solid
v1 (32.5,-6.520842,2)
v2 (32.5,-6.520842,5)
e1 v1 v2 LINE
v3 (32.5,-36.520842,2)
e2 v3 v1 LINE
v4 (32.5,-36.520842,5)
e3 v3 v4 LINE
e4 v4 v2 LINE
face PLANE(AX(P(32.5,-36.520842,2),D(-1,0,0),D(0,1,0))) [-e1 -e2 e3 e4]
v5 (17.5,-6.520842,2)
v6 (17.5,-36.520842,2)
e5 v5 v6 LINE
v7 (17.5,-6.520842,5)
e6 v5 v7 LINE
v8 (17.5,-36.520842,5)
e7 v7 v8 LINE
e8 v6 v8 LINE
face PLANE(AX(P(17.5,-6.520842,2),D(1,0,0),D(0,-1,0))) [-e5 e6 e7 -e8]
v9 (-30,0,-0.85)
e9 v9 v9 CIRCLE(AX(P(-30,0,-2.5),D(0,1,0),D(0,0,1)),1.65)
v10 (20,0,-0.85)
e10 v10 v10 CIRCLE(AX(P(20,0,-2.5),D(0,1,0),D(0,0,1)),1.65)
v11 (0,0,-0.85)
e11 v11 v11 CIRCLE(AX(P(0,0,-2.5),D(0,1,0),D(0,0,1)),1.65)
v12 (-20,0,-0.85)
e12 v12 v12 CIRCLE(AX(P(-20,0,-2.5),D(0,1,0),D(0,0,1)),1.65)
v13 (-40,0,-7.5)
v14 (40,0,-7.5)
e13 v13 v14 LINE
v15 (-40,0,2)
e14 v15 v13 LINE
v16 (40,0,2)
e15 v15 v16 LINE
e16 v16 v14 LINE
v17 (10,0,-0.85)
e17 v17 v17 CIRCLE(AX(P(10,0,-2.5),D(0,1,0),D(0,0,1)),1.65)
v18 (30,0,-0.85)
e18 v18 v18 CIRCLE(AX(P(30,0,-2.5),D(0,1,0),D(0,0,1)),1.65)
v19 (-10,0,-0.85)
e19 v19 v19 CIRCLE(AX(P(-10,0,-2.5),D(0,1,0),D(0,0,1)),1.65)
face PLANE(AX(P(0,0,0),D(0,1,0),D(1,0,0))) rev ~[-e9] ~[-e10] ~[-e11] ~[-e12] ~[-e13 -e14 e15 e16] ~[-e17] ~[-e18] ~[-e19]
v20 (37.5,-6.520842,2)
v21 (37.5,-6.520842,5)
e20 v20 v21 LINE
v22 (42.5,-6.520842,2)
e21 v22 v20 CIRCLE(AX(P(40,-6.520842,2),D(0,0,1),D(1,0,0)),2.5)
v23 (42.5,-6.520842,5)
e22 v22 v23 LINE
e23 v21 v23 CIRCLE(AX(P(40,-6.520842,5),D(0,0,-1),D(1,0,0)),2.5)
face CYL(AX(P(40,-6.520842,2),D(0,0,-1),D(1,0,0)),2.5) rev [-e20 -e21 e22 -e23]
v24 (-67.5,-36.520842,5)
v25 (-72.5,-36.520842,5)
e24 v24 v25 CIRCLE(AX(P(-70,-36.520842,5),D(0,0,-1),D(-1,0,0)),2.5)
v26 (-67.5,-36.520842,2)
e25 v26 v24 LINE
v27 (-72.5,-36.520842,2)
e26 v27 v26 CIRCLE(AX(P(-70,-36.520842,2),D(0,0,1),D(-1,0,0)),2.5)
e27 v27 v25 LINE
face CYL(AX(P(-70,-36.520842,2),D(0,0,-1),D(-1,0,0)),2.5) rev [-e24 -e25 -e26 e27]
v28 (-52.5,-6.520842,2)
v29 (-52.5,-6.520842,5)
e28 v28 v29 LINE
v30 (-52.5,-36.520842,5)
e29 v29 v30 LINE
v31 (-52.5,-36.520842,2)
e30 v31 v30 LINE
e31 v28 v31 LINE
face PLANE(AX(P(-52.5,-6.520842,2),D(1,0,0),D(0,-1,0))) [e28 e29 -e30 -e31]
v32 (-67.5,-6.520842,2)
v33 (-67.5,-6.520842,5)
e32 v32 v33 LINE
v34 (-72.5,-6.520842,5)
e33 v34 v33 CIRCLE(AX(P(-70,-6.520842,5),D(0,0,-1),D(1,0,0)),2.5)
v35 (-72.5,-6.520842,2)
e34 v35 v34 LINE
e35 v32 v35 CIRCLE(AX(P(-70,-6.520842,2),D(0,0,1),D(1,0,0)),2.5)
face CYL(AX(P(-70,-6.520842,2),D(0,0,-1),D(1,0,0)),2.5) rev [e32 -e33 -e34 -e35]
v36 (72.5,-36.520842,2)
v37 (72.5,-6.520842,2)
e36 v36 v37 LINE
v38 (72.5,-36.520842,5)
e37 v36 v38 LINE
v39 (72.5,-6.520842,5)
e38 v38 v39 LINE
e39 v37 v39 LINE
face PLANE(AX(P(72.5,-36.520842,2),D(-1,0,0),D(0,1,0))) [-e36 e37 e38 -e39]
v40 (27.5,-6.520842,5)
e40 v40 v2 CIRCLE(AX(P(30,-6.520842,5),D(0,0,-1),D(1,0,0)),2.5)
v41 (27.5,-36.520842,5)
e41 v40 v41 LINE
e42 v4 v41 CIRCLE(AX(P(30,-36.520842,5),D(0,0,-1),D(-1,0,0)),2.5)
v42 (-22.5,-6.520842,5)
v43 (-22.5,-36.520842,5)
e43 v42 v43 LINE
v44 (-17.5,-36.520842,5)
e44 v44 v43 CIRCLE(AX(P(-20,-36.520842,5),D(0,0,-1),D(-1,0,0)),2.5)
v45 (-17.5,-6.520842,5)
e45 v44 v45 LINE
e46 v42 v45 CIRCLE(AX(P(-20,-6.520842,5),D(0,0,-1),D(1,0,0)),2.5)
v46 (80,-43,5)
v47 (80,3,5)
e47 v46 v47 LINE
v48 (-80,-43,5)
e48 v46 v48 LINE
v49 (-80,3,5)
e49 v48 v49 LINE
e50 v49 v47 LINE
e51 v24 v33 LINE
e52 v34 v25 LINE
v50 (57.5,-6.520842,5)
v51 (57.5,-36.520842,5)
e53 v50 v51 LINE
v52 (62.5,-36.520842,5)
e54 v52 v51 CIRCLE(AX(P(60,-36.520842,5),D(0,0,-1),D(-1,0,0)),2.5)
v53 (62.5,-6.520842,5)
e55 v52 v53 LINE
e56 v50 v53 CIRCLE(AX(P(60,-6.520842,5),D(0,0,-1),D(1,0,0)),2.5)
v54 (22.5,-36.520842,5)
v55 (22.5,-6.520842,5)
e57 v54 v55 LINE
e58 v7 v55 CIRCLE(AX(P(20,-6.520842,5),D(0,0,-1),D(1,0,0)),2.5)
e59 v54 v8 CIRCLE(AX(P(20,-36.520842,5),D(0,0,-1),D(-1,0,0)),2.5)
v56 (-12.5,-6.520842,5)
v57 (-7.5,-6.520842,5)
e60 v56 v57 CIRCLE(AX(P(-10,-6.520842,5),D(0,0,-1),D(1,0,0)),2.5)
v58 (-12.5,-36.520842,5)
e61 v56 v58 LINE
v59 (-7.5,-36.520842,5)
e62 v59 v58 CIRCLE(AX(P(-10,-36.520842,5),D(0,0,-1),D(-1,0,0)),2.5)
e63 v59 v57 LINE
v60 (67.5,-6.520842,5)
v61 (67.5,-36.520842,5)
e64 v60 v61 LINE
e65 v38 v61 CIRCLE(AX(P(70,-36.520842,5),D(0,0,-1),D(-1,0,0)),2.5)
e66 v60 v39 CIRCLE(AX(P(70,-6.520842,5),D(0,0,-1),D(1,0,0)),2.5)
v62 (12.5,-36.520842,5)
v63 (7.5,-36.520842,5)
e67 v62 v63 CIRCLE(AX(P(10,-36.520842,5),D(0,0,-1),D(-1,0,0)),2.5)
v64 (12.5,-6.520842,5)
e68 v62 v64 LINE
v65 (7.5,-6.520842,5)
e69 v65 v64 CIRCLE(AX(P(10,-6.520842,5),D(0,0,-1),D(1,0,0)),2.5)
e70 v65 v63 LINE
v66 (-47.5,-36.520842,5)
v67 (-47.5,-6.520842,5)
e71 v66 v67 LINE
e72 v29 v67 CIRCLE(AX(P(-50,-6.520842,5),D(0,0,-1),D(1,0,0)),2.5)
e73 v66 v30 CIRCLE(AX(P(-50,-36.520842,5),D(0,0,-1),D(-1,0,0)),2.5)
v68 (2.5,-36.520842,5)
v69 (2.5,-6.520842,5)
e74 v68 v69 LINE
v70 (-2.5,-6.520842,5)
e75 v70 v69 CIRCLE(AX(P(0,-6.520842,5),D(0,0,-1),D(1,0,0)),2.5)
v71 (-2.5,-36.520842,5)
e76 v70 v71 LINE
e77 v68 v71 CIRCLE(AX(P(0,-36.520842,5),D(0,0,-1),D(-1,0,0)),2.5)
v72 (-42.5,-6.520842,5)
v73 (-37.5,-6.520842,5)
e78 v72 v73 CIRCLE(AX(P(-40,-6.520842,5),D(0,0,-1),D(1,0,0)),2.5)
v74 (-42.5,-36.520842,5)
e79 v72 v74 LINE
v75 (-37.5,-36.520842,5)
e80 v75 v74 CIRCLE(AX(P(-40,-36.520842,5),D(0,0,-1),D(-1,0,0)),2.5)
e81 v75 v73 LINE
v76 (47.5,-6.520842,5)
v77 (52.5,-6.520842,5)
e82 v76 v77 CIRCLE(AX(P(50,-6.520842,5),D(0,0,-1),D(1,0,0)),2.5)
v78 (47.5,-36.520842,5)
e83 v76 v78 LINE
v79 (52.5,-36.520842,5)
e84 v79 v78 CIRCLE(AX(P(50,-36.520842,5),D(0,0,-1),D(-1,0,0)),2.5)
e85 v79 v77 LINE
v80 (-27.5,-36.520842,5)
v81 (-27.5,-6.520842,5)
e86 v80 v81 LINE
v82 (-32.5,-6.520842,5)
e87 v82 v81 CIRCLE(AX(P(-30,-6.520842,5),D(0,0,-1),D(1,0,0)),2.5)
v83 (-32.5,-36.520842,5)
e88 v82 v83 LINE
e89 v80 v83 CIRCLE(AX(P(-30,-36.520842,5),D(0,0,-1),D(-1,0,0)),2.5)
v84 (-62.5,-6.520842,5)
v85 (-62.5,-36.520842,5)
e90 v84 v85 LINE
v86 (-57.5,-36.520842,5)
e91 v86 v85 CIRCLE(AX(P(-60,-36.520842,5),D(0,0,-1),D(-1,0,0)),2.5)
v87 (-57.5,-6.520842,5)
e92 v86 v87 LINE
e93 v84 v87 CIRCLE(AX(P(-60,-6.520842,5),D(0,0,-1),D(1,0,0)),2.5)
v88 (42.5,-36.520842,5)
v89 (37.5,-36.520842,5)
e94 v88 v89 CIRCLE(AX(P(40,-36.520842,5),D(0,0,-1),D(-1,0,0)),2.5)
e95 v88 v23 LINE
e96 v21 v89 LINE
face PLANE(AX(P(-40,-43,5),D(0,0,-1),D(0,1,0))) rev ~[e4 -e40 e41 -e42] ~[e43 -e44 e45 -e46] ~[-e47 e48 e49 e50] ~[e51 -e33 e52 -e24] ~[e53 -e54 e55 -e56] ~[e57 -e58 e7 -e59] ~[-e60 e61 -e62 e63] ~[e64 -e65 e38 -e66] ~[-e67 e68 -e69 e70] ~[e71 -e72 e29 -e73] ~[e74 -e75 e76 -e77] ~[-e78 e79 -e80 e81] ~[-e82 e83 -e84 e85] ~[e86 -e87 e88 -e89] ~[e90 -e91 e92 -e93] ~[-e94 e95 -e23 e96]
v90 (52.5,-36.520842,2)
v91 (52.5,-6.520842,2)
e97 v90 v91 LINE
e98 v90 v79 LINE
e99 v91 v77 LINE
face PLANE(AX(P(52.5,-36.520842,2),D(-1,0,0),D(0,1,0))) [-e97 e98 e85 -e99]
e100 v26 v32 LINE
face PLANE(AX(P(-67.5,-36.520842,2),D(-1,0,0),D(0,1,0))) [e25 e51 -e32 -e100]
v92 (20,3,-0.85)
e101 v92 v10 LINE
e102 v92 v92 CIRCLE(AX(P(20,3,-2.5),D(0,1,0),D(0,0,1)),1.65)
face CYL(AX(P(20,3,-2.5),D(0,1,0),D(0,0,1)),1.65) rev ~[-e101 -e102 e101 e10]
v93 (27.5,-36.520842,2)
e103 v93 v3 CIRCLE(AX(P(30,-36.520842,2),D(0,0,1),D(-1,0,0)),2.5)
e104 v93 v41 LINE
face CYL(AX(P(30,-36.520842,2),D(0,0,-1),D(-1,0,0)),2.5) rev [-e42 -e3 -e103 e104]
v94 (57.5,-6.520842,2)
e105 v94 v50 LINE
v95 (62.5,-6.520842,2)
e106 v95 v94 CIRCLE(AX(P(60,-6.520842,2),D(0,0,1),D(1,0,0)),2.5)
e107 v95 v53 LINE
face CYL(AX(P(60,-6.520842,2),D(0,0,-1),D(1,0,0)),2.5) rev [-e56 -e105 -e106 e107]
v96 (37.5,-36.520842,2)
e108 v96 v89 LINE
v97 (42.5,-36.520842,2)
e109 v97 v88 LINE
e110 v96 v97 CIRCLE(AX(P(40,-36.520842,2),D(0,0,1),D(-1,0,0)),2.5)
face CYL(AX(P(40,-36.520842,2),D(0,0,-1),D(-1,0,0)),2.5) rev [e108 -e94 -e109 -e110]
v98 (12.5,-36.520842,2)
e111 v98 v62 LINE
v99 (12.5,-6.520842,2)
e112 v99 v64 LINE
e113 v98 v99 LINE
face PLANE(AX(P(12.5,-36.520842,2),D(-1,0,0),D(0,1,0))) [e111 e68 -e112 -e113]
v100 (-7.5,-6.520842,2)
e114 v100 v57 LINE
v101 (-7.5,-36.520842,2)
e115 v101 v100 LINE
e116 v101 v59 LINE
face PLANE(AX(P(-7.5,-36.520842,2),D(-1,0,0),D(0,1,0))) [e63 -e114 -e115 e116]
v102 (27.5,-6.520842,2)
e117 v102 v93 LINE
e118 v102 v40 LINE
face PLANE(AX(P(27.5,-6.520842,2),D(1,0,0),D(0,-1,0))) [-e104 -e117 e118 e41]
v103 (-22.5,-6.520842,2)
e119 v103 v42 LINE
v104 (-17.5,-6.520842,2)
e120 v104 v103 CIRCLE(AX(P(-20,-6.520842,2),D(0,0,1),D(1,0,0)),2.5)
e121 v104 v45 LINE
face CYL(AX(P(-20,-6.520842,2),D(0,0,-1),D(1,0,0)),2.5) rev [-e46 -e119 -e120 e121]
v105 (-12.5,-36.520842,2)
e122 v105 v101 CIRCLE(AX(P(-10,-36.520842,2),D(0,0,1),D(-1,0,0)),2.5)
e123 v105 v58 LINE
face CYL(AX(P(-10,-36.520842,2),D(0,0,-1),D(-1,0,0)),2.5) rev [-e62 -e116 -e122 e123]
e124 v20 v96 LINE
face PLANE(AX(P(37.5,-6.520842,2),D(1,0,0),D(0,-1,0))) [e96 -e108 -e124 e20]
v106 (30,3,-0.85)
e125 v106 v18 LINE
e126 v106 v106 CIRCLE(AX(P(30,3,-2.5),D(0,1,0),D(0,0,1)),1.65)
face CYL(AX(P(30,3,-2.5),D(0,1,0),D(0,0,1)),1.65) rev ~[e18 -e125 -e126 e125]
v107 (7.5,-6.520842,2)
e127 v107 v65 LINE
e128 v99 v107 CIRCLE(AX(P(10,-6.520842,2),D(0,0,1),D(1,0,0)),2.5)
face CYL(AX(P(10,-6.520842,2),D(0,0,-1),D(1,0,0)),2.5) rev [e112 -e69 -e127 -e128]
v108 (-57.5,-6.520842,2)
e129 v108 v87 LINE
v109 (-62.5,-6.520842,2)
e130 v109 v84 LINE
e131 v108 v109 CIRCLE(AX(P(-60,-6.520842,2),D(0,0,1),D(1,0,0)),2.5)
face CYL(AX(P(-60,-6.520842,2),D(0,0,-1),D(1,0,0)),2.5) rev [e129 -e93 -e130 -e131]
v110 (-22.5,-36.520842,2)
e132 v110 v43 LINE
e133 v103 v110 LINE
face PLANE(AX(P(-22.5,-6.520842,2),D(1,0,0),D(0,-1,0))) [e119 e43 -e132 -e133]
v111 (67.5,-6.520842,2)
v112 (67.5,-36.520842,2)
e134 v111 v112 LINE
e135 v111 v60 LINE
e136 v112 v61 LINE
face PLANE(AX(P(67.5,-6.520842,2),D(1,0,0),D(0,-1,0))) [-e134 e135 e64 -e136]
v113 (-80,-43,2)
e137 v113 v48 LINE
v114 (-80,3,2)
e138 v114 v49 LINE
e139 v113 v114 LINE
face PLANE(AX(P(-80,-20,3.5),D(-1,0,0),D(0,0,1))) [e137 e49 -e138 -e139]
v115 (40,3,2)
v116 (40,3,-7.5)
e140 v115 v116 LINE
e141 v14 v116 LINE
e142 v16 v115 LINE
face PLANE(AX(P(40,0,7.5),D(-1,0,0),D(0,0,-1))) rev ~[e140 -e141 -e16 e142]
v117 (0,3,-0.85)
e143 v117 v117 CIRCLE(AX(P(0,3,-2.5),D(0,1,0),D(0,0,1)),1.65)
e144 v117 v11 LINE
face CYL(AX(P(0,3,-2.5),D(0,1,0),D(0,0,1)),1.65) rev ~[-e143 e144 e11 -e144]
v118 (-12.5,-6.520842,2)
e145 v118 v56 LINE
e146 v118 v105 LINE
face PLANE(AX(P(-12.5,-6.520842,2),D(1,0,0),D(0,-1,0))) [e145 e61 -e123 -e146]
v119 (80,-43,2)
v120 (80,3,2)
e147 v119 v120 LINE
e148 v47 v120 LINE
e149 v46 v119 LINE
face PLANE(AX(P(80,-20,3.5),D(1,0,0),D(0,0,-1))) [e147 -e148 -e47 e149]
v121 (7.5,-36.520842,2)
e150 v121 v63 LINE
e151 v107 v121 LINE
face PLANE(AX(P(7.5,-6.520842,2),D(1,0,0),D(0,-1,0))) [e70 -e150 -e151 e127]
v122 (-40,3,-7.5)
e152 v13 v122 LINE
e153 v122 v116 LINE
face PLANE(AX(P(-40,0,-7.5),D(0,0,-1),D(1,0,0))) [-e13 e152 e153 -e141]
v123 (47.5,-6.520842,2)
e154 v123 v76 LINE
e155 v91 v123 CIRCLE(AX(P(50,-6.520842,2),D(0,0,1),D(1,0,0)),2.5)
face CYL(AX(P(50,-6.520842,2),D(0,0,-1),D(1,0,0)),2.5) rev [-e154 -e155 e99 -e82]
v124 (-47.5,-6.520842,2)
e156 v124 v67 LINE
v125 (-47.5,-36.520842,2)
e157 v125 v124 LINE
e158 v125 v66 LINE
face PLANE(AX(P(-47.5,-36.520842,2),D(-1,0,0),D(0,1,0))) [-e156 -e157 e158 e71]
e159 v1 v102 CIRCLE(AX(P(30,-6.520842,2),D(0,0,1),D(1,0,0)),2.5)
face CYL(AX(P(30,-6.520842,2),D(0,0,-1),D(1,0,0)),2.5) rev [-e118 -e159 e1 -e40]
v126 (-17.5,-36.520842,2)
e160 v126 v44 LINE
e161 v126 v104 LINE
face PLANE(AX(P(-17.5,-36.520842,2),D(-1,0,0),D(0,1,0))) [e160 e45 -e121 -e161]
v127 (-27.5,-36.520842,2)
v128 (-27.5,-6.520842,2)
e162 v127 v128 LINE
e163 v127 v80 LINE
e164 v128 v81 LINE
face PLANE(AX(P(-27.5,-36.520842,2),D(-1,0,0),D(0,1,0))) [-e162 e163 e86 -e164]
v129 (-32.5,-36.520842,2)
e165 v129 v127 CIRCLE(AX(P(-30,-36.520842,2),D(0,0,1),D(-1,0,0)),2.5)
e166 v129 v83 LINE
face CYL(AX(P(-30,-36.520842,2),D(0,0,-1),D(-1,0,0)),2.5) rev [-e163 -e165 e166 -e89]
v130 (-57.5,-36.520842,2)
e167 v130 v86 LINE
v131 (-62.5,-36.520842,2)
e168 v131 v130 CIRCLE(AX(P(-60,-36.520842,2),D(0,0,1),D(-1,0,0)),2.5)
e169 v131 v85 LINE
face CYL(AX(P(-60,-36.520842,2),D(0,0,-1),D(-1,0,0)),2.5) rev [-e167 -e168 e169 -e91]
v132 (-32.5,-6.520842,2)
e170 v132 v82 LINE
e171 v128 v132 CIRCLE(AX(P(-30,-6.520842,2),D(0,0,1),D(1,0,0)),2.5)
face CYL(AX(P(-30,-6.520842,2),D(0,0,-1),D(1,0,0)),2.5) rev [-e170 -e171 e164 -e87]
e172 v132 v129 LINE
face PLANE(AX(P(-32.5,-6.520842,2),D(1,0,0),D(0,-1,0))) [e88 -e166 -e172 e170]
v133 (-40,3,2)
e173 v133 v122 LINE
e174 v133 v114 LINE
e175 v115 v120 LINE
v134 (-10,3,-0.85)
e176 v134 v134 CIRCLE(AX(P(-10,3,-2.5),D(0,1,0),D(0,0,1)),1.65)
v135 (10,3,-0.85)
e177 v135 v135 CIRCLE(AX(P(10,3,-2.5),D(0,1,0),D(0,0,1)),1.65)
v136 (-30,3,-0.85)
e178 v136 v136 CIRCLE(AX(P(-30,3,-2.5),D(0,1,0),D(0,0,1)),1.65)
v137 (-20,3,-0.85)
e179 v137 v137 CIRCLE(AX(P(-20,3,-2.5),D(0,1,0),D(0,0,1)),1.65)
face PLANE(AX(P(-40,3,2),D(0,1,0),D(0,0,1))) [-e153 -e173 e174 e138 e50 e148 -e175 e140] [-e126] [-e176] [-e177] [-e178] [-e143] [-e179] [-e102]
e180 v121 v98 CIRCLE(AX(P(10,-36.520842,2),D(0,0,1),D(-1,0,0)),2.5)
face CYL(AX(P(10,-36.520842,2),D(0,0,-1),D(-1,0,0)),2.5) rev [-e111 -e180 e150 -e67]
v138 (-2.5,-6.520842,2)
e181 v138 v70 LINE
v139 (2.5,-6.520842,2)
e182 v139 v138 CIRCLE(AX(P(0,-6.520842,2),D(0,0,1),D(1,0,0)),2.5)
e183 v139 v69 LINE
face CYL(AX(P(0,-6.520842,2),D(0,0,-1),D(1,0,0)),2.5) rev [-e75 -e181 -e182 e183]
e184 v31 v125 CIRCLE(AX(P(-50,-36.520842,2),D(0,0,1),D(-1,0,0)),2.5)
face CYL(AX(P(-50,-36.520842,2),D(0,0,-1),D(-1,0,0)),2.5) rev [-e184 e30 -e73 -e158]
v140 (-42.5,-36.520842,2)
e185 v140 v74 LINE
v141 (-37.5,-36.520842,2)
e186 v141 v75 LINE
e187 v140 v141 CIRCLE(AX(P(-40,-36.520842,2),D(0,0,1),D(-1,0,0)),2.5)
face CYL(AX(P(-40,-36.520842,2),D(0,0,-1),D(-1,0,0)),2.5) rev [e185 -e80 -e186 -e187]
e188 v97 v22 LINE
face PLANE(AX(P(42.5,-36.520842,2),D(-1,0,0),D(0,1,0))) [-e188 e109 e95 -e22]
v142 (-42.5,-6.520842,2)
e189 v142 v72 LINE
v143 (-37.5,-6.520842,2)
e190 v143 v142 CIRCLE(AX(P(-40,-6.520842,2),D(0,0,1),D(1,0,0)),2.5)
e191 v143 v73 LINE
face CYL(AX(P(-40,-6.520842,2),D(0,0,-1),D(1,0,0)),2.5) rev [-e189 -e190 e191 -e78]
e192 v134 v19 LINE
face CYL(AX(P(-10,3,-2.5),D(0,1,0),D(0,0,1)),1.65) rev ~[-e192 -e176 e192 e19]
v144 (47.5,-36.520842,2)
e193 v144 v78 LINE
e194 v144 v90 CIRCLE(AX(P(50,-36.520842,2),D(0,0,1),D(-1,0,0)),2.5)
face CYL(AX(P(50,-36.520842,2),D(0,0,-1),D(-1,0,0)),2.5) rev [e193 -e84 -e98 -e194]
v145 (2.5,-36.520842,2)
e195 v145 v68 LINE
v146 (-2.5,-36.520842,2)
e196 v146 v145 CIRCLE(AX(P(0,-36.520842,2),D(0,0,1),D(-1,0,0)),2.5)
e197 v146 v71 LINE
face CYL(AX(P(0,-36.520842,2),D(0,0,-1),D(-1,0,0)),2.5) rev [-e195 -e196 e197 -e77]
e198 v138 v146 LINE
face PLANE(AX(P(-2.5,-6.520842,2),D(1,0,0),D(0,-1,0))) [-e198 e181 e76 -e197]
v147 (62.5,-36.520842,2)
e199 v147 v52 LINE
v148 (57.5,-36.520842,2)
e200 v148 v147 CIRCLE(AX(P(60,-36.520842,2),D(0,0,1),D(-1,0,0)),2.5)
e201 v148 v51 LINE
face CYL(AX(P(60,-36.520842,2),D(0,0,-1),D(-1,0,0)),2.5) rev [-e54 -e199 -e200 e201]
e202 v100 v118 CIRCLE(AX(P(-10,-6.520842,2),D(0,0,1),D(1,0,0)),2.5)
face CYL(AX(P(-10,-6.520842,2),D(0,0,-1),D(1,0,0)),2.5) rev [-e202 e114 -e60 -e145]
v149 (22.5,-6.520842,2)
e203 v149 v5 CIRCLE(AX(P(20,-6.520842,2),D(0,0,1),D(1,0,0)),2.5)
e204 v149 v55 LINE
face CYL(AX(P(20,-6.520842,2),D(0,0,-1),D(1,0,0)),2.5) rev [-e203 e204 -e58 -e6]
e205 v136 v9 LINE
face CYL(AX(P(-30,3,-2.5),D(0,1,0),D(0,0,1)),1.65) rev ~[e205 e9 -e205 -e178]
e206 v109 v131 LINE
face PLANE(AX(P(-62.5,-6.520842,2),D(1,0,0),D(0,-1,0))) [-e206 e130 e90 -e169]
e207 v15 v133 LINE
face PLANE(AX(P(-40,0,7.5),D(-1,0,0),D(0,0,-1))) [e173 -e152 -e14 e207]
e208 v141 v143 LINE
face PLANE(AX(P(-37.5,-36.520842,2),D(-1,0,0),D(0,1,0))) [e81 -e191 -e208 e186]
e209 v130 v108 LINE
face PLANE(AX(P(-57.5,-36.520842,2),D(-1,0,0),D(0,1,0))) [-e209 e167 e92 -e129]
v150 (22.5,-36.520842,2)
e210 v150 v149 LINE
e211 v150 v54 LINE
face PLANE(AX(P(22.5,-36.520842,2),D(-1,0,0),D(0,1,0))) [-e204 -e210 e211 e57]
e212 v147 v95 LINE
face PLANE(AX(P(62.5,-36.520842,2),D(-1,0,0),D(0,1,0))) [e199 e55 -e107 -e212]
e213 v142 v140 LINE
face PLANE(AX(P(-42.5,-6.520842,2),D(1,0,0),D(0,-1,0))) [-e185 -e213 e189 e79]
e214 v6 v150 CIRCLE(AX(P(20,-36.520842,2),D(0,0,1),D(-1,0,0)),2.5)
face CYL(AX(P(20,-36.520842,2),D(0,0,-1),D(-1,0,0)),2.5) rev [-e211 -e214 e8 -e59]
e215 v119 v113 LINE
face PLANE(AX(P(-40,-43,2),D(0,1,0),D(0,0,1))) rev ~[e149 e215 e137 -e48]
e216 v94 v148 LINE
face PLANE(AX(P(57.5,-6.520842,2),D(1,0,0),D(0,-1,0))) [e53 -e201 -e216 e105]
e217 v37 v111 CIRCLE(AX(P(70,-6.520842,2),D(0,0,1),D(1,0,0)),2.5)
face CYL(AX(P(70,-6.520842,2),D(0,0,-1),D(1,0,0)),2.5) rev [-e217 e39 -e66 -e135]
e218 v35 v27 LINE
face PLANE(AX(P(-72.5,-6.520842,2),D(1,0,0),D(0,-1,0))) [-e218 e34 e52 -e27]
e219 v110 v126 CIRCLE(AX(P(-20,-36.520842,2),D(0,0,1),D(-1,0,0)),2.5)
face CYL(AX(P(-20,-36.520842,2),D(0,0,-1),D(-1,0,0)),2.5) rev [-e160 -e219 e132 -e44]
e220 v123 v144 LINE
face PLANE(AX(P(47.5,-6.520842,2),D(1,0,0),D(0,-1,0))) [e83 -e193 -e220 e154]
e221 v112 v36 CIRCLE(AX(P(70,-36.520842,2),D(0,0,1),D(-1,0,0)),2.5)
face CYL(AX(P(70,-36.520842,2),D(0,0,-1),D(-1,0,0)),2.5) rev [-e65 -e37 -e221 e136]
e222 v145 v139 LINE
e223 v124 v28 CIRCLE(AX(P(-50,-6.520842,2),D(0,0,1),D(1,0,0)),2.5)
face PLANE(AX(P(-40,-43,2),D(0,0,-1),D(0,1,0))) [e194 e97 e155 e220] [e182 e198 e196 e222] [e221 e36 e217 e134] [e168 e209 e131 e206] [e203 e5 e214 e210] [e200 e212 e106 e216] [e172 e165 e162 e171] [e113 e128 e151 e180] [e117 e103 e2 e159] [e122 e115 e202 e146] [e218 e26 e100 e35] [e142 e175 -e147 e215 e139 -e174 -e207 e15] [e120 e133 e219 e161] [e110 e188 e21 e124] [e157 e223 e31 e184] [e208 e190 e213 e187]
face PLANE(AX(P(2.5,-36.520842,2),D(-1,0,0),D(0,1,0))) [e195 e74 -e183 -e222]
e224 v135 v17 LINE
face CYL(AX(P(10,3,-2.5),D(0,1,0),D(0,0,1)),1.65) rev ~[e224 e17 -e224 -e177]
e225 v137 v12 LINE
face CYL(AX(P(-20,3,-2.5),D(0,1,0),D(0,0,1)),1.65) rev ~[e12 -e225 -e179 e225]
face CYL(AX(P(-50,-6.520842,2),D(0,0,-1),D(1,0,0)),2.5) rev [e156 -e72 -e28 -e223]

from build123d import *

# Parameters (mm, degrees)
SKETCH_1_W          = 80
SKETCH_1_H          = 15
EXTRUDE_1_DEPTH     = 3
SKETCH_2_R          = 1.65
CUT_EXTRUDE_1_DEPTH = 3
SKETCH_3_W          = 80
SKETCH_3_H          = 3
EXTRUDE_2_DEPTH     = 43
SKETCH_4_W          = 3
SKETCH_4_H          = 46
EXTRUDE_3_DEPTH     = 40
SKETCH_5_W          = 3
SKETCH_5_H          = 46
EXTRUDE_4_DEPTH     = 40
SKETCH_8_W          = 2.5
SKETCH_8_H          = 3
CUT_EXTRUDE_3_DEPTH = 80
CUT_EXTRUDE_4_DEPTH = 80


with BuildPart() as part:
    # 草图1 → 凸台-拉伸1 (new body)
    with BuildSketch(Plane(origin=(0, 0, 0), x_dir=(1, 0, 0), z_dir=(0, 1, 0))):
        Rectangle(SKETCH_1_W, SKETCH_1_H)
    extrude(amount=EXTRUDE_1_DEPTH)

    # 草图2 → 切除-拉伸1 (cut)
    with BuildSketch(Plane(origin=(0, 3, 0), x_dir=(1, 0, 0), z_dir=(0, 1, 0))):
        with Locations(Location((-30, 2.5, 0), (0, 0, 270))):
            Circle(SKETCH_2_R)
        with Locations(Location((-20, 2.5, 0), (0, 0, 270))):
            Circle(SKETCH_2_R)
        with Locations(Location((-10, 2.5, 0), (0, 0, 270))):
            Circle(SKETCH_2_R)
        with Locations(Location((0, 2.5, 0), (0, 0, 270))):
            Circle(SKETCH_2_R)
        with Locations(Location((10, 2.5, 0), (0, 0, 270))):
            Circle(SKETCH_2_R)
        with Locations(Location((20, 2.5, 0), (0, 0, 270))):
            Circle(SKETCH_2_R)
        with Locations(Location((30, 2.5, 0), (0, 0, 270))):
            Circle(SKETCH_2_R)
    extrude(amount=-CUT_EXTRUDE_1_DEPTH, mode=Mode.SUBTRACT)

    # 草图3 → 凸台-拉伸2 (add)
    with BuildSketch(Plane.XZ):
        with Locations((0, 3.5)):
            Rectangle(SKETCH_3_W, SKETCH_3_H)
    extrude(amount=EXTRUDE_2_DEPTH)

    # 草图4 → 凸台-拉伸3 (add)
    with BuildSketch(Plane(origin=(40, 0, 0), x_dir=(0, 0, -1), z_dir=(1, 0, 0))):
        with Locations((-3.5, -20)):
            Rectangle(SKETCH_4_W, SKETCH_4_H)
    extrude(amount=EXTRUDE_3_DEPTH)

    # 草图5 → 凸台-拉伸4 (add)
    with BuildSketch(Plane.ZY.offset(40)):
        with Locations((3.5, -20)):
            Rectangle(SKETCH_5_W, SKETCH_5_H)
    extrude(amount=EXTRUDE_4_DEPTH)

    # 草图8 → 切除-拉伸3 (cut)
    with BuildSketch(Plane.ZY.offset(40)):
        with Locations((6.25, 1.5)):
            Rectangle(SKETCH_8_W, SKETCH_8_H)
    extrude(amount=-CUT_EXTRUDE_3_DEPTH, mode=Mode.SUBTRACT)

    # 草图9 → 切除-拉伸4 (cut)
    with BuildSketch(Plane(origin=(0, 0, 2), x_dir=(-1, 0, 0), z_dir=(0, 0, -1))):
        with BuildLine():
            Line((-67.5, -6.520841628), (-67.5, -36.520841628))
            ThreePointArc((-67.5, -36.520841628), (-70, -39.020841628), (-72.5, -36.520841628))
            Line((-72.5, -36.520841628), (-72.5, -6.520841628))
            ThreePointArc((-72.5, -6.520841628), (-70, -4.020841628), (-67.5, -6.520841628))
        make_face()
        with BuildLine():
            Line((-57.5, -6.520841628), (-57.5, -36.520841628))
            ThreePointArc((-57.5, -36.520841628), (-60, -39.020841628), (-62.5, -36.520841628))
            Line((-62.5, -36.520841628), (-62.5, -6.520841628))
            ThreePointArc((-62.5, -6.520841628), (-60, -4.020841628), (-57.5, -6.520841628))
        make_face()
        with BuildLine():
            Line((-47.5, -6.520841628), (-47.5, -36.520841628))
            ThreePointArc((-47.5, -36.520841628), (-50, -39.020841628), (-52.5, -36.520841628))
            Line((-52.5, -36.520841628), (-52.5, -6.520841628))
            ThreePointArc((-52.5, -6.520841628), (-50, -4.020841628), (-47.5, -6.520841628))
        make_face()
        with BuildLine():
            Line((-37.5, -6.520841628), (-37.5, -36.520841628))
            ThreePointArc((-37.5, -36.520841628), (-40, -39.020841628), (-42.5, -36.520841628))
            Line((-42.5, -36.520841628), (-42.5, -6.520841628))
            ThreePointArc((-42.5, -6.520841628), (-40, -4.020841628), (-37.5, -6.520841628))
        make_face()
        with BuildLine():
            Line((-27.5, -6.520841628), (-27.5, -36.520841628))
            ThreePointArc((-27.5, -36.520841628), (-30, -39.020841628), (-32.5, -36.520841628))
            Line((-32.5, -36.520841628), (-32.5, -6.520841628))
            ThreePointArc((-32.5, -6.520841628), (-30, -4.020841628), (-27.5, -6.520841628))
        make_face()
        with BuildLine():
            Line((-17.5, -6.520841628), (-17.5, -36.520841628))
            ThreePointArc((-17.5, -36.520841628), (-20, -39.020841628), (-22.5, -36.520841628))
            Line((-22.5, -36.520841628), (-22.5, -6.520841628))
            ThreePointArc((-22.5, -6.520841628), (-20, -4.020841628), (-17.5, -6.520841628))
        make_face()
        with BuildLine():
            Line((-7.5, -6.520841628), (-7.5, -36.520841628))
            ThreePointArc((-7.5, -36.520841628), (-10, -39.020841628), (-12.5, -36.520841628))
            Line((-12.5, -36.520841628), (-12.5, -6.520841628))
            ThreePointArc((-12.5, -6.520841628), (-10, -4.020841628), (-7.5, -6.520841628))
        make_face()
        with BuildLine():
            Line((2.5, -6.520841628), (2.5, -36.520841628))
            ThreePointArc((2.5, -36.520841628), (0, -39.020841628), (-2.5, -36.520841628))
            Line((-2.5, -36.520841628), (-2.5, -6.520841628))
            ThreePointArc((-2.5, -6.520841628), (0, -4.020841628), (2.5, -6.520841628))
        make_face()
        with BuildLine():
            Line((12.5, -6.520841628), (12.5, -36.520841628))
            ThreePointArc((12.5, -36.520841628), (10, -39.020841628), (7.5, -36.520841628))
            Line((7.5, -36.520841628), (7.5, -6.520841628))
            ThreePointArc((7.5, -6.520841628), (10, -4.020841628), (12.5, -6.520841628))
        make_face()
        with BuildLine():
            Line((22.5, -6.520841628), (22.5, -36.520841628))
            ThreePointArc((22.5, -36.520841628), (20, -39.020841628), (17.5, -36.520841628))
            Line((17.5, -36.520841628), (17.5, -6.520841628))
            ThreePointArc((17.5, -6.520841628), (20, -4.020841628), (22.5, -6.520841628))
        make_face()
        with BuildLine():
            Line((32.5, -6.520841628), (32.5, -36.520841628))
            ThreePointArc((32.5, -36.520841628), (30, -39.020841628), (27.5, -36.520841628))
            Line((27.5, -36.520841628), (27.5, -6.520841628))
            ThreePointArc((27.5, -6.520841628), (30, -4.020841628), (32.5, -6.520841628))
        make_face()
        with BuildLine():
            Line((42.5, -6.520841628), (42.5, -36.520841628))
            ThreePointArc((42.5, -36.520841628), (40, -39.020841628), (37.5, -36.520841628))
            Line((37.5, -36.520841628), (37.5, -6.520841628))
            ThreePointArc((37.5, -6.520841628), (40, -4.020841628), (42.5, -6.520841628))
        make_face()
        with BuildLine():
            Line((52.5, -6.520841628), (52.5, -36.520841628))
            ThreePointArc((52.5, -36.520841628), (50, -39.020841628), (47.5, -36.520841628))
            Line((47.5, -36.520841628), (47.5, -6.520841628))
            ThreePointArc((47.5, -6.520841628), (50, -4.020841628), (52.5, -6.520841628))
        make_face()
        with BuildLine():
            Line((62.5, -6.520841628), (62.5, -36.520841628))
            ThreePointArc((62.5, -36.520841628), (60, -39.020841628), (57.5, -36.520841628))
            Line((57.5, -36.520841628), (57.5, -6.520841628))
            ThreePointArc((57.5, -6.520841628), (60, -4.020841628), (62.5, -6.520841628))
        make_face()
        with BuildLine():
            Line((72.5, -6.520841628), (72.5, -36.520841628))
            ThreePointArc((72.5, -36.520841628), (70, -39.020841628), (67.5, -36.520841628))
            Line((67.5, -36.520841628), (67.5, -6.520841628))
            ThreePointArc((67.5, -6.520841628), (70, -4.020841628), (72.5, -6.520841628))
        make_face()
    extrude(amount=-CUT_EXTRUDE_4_DEPTH, mode=Mode.SUBTRACT)


solid = part.part
